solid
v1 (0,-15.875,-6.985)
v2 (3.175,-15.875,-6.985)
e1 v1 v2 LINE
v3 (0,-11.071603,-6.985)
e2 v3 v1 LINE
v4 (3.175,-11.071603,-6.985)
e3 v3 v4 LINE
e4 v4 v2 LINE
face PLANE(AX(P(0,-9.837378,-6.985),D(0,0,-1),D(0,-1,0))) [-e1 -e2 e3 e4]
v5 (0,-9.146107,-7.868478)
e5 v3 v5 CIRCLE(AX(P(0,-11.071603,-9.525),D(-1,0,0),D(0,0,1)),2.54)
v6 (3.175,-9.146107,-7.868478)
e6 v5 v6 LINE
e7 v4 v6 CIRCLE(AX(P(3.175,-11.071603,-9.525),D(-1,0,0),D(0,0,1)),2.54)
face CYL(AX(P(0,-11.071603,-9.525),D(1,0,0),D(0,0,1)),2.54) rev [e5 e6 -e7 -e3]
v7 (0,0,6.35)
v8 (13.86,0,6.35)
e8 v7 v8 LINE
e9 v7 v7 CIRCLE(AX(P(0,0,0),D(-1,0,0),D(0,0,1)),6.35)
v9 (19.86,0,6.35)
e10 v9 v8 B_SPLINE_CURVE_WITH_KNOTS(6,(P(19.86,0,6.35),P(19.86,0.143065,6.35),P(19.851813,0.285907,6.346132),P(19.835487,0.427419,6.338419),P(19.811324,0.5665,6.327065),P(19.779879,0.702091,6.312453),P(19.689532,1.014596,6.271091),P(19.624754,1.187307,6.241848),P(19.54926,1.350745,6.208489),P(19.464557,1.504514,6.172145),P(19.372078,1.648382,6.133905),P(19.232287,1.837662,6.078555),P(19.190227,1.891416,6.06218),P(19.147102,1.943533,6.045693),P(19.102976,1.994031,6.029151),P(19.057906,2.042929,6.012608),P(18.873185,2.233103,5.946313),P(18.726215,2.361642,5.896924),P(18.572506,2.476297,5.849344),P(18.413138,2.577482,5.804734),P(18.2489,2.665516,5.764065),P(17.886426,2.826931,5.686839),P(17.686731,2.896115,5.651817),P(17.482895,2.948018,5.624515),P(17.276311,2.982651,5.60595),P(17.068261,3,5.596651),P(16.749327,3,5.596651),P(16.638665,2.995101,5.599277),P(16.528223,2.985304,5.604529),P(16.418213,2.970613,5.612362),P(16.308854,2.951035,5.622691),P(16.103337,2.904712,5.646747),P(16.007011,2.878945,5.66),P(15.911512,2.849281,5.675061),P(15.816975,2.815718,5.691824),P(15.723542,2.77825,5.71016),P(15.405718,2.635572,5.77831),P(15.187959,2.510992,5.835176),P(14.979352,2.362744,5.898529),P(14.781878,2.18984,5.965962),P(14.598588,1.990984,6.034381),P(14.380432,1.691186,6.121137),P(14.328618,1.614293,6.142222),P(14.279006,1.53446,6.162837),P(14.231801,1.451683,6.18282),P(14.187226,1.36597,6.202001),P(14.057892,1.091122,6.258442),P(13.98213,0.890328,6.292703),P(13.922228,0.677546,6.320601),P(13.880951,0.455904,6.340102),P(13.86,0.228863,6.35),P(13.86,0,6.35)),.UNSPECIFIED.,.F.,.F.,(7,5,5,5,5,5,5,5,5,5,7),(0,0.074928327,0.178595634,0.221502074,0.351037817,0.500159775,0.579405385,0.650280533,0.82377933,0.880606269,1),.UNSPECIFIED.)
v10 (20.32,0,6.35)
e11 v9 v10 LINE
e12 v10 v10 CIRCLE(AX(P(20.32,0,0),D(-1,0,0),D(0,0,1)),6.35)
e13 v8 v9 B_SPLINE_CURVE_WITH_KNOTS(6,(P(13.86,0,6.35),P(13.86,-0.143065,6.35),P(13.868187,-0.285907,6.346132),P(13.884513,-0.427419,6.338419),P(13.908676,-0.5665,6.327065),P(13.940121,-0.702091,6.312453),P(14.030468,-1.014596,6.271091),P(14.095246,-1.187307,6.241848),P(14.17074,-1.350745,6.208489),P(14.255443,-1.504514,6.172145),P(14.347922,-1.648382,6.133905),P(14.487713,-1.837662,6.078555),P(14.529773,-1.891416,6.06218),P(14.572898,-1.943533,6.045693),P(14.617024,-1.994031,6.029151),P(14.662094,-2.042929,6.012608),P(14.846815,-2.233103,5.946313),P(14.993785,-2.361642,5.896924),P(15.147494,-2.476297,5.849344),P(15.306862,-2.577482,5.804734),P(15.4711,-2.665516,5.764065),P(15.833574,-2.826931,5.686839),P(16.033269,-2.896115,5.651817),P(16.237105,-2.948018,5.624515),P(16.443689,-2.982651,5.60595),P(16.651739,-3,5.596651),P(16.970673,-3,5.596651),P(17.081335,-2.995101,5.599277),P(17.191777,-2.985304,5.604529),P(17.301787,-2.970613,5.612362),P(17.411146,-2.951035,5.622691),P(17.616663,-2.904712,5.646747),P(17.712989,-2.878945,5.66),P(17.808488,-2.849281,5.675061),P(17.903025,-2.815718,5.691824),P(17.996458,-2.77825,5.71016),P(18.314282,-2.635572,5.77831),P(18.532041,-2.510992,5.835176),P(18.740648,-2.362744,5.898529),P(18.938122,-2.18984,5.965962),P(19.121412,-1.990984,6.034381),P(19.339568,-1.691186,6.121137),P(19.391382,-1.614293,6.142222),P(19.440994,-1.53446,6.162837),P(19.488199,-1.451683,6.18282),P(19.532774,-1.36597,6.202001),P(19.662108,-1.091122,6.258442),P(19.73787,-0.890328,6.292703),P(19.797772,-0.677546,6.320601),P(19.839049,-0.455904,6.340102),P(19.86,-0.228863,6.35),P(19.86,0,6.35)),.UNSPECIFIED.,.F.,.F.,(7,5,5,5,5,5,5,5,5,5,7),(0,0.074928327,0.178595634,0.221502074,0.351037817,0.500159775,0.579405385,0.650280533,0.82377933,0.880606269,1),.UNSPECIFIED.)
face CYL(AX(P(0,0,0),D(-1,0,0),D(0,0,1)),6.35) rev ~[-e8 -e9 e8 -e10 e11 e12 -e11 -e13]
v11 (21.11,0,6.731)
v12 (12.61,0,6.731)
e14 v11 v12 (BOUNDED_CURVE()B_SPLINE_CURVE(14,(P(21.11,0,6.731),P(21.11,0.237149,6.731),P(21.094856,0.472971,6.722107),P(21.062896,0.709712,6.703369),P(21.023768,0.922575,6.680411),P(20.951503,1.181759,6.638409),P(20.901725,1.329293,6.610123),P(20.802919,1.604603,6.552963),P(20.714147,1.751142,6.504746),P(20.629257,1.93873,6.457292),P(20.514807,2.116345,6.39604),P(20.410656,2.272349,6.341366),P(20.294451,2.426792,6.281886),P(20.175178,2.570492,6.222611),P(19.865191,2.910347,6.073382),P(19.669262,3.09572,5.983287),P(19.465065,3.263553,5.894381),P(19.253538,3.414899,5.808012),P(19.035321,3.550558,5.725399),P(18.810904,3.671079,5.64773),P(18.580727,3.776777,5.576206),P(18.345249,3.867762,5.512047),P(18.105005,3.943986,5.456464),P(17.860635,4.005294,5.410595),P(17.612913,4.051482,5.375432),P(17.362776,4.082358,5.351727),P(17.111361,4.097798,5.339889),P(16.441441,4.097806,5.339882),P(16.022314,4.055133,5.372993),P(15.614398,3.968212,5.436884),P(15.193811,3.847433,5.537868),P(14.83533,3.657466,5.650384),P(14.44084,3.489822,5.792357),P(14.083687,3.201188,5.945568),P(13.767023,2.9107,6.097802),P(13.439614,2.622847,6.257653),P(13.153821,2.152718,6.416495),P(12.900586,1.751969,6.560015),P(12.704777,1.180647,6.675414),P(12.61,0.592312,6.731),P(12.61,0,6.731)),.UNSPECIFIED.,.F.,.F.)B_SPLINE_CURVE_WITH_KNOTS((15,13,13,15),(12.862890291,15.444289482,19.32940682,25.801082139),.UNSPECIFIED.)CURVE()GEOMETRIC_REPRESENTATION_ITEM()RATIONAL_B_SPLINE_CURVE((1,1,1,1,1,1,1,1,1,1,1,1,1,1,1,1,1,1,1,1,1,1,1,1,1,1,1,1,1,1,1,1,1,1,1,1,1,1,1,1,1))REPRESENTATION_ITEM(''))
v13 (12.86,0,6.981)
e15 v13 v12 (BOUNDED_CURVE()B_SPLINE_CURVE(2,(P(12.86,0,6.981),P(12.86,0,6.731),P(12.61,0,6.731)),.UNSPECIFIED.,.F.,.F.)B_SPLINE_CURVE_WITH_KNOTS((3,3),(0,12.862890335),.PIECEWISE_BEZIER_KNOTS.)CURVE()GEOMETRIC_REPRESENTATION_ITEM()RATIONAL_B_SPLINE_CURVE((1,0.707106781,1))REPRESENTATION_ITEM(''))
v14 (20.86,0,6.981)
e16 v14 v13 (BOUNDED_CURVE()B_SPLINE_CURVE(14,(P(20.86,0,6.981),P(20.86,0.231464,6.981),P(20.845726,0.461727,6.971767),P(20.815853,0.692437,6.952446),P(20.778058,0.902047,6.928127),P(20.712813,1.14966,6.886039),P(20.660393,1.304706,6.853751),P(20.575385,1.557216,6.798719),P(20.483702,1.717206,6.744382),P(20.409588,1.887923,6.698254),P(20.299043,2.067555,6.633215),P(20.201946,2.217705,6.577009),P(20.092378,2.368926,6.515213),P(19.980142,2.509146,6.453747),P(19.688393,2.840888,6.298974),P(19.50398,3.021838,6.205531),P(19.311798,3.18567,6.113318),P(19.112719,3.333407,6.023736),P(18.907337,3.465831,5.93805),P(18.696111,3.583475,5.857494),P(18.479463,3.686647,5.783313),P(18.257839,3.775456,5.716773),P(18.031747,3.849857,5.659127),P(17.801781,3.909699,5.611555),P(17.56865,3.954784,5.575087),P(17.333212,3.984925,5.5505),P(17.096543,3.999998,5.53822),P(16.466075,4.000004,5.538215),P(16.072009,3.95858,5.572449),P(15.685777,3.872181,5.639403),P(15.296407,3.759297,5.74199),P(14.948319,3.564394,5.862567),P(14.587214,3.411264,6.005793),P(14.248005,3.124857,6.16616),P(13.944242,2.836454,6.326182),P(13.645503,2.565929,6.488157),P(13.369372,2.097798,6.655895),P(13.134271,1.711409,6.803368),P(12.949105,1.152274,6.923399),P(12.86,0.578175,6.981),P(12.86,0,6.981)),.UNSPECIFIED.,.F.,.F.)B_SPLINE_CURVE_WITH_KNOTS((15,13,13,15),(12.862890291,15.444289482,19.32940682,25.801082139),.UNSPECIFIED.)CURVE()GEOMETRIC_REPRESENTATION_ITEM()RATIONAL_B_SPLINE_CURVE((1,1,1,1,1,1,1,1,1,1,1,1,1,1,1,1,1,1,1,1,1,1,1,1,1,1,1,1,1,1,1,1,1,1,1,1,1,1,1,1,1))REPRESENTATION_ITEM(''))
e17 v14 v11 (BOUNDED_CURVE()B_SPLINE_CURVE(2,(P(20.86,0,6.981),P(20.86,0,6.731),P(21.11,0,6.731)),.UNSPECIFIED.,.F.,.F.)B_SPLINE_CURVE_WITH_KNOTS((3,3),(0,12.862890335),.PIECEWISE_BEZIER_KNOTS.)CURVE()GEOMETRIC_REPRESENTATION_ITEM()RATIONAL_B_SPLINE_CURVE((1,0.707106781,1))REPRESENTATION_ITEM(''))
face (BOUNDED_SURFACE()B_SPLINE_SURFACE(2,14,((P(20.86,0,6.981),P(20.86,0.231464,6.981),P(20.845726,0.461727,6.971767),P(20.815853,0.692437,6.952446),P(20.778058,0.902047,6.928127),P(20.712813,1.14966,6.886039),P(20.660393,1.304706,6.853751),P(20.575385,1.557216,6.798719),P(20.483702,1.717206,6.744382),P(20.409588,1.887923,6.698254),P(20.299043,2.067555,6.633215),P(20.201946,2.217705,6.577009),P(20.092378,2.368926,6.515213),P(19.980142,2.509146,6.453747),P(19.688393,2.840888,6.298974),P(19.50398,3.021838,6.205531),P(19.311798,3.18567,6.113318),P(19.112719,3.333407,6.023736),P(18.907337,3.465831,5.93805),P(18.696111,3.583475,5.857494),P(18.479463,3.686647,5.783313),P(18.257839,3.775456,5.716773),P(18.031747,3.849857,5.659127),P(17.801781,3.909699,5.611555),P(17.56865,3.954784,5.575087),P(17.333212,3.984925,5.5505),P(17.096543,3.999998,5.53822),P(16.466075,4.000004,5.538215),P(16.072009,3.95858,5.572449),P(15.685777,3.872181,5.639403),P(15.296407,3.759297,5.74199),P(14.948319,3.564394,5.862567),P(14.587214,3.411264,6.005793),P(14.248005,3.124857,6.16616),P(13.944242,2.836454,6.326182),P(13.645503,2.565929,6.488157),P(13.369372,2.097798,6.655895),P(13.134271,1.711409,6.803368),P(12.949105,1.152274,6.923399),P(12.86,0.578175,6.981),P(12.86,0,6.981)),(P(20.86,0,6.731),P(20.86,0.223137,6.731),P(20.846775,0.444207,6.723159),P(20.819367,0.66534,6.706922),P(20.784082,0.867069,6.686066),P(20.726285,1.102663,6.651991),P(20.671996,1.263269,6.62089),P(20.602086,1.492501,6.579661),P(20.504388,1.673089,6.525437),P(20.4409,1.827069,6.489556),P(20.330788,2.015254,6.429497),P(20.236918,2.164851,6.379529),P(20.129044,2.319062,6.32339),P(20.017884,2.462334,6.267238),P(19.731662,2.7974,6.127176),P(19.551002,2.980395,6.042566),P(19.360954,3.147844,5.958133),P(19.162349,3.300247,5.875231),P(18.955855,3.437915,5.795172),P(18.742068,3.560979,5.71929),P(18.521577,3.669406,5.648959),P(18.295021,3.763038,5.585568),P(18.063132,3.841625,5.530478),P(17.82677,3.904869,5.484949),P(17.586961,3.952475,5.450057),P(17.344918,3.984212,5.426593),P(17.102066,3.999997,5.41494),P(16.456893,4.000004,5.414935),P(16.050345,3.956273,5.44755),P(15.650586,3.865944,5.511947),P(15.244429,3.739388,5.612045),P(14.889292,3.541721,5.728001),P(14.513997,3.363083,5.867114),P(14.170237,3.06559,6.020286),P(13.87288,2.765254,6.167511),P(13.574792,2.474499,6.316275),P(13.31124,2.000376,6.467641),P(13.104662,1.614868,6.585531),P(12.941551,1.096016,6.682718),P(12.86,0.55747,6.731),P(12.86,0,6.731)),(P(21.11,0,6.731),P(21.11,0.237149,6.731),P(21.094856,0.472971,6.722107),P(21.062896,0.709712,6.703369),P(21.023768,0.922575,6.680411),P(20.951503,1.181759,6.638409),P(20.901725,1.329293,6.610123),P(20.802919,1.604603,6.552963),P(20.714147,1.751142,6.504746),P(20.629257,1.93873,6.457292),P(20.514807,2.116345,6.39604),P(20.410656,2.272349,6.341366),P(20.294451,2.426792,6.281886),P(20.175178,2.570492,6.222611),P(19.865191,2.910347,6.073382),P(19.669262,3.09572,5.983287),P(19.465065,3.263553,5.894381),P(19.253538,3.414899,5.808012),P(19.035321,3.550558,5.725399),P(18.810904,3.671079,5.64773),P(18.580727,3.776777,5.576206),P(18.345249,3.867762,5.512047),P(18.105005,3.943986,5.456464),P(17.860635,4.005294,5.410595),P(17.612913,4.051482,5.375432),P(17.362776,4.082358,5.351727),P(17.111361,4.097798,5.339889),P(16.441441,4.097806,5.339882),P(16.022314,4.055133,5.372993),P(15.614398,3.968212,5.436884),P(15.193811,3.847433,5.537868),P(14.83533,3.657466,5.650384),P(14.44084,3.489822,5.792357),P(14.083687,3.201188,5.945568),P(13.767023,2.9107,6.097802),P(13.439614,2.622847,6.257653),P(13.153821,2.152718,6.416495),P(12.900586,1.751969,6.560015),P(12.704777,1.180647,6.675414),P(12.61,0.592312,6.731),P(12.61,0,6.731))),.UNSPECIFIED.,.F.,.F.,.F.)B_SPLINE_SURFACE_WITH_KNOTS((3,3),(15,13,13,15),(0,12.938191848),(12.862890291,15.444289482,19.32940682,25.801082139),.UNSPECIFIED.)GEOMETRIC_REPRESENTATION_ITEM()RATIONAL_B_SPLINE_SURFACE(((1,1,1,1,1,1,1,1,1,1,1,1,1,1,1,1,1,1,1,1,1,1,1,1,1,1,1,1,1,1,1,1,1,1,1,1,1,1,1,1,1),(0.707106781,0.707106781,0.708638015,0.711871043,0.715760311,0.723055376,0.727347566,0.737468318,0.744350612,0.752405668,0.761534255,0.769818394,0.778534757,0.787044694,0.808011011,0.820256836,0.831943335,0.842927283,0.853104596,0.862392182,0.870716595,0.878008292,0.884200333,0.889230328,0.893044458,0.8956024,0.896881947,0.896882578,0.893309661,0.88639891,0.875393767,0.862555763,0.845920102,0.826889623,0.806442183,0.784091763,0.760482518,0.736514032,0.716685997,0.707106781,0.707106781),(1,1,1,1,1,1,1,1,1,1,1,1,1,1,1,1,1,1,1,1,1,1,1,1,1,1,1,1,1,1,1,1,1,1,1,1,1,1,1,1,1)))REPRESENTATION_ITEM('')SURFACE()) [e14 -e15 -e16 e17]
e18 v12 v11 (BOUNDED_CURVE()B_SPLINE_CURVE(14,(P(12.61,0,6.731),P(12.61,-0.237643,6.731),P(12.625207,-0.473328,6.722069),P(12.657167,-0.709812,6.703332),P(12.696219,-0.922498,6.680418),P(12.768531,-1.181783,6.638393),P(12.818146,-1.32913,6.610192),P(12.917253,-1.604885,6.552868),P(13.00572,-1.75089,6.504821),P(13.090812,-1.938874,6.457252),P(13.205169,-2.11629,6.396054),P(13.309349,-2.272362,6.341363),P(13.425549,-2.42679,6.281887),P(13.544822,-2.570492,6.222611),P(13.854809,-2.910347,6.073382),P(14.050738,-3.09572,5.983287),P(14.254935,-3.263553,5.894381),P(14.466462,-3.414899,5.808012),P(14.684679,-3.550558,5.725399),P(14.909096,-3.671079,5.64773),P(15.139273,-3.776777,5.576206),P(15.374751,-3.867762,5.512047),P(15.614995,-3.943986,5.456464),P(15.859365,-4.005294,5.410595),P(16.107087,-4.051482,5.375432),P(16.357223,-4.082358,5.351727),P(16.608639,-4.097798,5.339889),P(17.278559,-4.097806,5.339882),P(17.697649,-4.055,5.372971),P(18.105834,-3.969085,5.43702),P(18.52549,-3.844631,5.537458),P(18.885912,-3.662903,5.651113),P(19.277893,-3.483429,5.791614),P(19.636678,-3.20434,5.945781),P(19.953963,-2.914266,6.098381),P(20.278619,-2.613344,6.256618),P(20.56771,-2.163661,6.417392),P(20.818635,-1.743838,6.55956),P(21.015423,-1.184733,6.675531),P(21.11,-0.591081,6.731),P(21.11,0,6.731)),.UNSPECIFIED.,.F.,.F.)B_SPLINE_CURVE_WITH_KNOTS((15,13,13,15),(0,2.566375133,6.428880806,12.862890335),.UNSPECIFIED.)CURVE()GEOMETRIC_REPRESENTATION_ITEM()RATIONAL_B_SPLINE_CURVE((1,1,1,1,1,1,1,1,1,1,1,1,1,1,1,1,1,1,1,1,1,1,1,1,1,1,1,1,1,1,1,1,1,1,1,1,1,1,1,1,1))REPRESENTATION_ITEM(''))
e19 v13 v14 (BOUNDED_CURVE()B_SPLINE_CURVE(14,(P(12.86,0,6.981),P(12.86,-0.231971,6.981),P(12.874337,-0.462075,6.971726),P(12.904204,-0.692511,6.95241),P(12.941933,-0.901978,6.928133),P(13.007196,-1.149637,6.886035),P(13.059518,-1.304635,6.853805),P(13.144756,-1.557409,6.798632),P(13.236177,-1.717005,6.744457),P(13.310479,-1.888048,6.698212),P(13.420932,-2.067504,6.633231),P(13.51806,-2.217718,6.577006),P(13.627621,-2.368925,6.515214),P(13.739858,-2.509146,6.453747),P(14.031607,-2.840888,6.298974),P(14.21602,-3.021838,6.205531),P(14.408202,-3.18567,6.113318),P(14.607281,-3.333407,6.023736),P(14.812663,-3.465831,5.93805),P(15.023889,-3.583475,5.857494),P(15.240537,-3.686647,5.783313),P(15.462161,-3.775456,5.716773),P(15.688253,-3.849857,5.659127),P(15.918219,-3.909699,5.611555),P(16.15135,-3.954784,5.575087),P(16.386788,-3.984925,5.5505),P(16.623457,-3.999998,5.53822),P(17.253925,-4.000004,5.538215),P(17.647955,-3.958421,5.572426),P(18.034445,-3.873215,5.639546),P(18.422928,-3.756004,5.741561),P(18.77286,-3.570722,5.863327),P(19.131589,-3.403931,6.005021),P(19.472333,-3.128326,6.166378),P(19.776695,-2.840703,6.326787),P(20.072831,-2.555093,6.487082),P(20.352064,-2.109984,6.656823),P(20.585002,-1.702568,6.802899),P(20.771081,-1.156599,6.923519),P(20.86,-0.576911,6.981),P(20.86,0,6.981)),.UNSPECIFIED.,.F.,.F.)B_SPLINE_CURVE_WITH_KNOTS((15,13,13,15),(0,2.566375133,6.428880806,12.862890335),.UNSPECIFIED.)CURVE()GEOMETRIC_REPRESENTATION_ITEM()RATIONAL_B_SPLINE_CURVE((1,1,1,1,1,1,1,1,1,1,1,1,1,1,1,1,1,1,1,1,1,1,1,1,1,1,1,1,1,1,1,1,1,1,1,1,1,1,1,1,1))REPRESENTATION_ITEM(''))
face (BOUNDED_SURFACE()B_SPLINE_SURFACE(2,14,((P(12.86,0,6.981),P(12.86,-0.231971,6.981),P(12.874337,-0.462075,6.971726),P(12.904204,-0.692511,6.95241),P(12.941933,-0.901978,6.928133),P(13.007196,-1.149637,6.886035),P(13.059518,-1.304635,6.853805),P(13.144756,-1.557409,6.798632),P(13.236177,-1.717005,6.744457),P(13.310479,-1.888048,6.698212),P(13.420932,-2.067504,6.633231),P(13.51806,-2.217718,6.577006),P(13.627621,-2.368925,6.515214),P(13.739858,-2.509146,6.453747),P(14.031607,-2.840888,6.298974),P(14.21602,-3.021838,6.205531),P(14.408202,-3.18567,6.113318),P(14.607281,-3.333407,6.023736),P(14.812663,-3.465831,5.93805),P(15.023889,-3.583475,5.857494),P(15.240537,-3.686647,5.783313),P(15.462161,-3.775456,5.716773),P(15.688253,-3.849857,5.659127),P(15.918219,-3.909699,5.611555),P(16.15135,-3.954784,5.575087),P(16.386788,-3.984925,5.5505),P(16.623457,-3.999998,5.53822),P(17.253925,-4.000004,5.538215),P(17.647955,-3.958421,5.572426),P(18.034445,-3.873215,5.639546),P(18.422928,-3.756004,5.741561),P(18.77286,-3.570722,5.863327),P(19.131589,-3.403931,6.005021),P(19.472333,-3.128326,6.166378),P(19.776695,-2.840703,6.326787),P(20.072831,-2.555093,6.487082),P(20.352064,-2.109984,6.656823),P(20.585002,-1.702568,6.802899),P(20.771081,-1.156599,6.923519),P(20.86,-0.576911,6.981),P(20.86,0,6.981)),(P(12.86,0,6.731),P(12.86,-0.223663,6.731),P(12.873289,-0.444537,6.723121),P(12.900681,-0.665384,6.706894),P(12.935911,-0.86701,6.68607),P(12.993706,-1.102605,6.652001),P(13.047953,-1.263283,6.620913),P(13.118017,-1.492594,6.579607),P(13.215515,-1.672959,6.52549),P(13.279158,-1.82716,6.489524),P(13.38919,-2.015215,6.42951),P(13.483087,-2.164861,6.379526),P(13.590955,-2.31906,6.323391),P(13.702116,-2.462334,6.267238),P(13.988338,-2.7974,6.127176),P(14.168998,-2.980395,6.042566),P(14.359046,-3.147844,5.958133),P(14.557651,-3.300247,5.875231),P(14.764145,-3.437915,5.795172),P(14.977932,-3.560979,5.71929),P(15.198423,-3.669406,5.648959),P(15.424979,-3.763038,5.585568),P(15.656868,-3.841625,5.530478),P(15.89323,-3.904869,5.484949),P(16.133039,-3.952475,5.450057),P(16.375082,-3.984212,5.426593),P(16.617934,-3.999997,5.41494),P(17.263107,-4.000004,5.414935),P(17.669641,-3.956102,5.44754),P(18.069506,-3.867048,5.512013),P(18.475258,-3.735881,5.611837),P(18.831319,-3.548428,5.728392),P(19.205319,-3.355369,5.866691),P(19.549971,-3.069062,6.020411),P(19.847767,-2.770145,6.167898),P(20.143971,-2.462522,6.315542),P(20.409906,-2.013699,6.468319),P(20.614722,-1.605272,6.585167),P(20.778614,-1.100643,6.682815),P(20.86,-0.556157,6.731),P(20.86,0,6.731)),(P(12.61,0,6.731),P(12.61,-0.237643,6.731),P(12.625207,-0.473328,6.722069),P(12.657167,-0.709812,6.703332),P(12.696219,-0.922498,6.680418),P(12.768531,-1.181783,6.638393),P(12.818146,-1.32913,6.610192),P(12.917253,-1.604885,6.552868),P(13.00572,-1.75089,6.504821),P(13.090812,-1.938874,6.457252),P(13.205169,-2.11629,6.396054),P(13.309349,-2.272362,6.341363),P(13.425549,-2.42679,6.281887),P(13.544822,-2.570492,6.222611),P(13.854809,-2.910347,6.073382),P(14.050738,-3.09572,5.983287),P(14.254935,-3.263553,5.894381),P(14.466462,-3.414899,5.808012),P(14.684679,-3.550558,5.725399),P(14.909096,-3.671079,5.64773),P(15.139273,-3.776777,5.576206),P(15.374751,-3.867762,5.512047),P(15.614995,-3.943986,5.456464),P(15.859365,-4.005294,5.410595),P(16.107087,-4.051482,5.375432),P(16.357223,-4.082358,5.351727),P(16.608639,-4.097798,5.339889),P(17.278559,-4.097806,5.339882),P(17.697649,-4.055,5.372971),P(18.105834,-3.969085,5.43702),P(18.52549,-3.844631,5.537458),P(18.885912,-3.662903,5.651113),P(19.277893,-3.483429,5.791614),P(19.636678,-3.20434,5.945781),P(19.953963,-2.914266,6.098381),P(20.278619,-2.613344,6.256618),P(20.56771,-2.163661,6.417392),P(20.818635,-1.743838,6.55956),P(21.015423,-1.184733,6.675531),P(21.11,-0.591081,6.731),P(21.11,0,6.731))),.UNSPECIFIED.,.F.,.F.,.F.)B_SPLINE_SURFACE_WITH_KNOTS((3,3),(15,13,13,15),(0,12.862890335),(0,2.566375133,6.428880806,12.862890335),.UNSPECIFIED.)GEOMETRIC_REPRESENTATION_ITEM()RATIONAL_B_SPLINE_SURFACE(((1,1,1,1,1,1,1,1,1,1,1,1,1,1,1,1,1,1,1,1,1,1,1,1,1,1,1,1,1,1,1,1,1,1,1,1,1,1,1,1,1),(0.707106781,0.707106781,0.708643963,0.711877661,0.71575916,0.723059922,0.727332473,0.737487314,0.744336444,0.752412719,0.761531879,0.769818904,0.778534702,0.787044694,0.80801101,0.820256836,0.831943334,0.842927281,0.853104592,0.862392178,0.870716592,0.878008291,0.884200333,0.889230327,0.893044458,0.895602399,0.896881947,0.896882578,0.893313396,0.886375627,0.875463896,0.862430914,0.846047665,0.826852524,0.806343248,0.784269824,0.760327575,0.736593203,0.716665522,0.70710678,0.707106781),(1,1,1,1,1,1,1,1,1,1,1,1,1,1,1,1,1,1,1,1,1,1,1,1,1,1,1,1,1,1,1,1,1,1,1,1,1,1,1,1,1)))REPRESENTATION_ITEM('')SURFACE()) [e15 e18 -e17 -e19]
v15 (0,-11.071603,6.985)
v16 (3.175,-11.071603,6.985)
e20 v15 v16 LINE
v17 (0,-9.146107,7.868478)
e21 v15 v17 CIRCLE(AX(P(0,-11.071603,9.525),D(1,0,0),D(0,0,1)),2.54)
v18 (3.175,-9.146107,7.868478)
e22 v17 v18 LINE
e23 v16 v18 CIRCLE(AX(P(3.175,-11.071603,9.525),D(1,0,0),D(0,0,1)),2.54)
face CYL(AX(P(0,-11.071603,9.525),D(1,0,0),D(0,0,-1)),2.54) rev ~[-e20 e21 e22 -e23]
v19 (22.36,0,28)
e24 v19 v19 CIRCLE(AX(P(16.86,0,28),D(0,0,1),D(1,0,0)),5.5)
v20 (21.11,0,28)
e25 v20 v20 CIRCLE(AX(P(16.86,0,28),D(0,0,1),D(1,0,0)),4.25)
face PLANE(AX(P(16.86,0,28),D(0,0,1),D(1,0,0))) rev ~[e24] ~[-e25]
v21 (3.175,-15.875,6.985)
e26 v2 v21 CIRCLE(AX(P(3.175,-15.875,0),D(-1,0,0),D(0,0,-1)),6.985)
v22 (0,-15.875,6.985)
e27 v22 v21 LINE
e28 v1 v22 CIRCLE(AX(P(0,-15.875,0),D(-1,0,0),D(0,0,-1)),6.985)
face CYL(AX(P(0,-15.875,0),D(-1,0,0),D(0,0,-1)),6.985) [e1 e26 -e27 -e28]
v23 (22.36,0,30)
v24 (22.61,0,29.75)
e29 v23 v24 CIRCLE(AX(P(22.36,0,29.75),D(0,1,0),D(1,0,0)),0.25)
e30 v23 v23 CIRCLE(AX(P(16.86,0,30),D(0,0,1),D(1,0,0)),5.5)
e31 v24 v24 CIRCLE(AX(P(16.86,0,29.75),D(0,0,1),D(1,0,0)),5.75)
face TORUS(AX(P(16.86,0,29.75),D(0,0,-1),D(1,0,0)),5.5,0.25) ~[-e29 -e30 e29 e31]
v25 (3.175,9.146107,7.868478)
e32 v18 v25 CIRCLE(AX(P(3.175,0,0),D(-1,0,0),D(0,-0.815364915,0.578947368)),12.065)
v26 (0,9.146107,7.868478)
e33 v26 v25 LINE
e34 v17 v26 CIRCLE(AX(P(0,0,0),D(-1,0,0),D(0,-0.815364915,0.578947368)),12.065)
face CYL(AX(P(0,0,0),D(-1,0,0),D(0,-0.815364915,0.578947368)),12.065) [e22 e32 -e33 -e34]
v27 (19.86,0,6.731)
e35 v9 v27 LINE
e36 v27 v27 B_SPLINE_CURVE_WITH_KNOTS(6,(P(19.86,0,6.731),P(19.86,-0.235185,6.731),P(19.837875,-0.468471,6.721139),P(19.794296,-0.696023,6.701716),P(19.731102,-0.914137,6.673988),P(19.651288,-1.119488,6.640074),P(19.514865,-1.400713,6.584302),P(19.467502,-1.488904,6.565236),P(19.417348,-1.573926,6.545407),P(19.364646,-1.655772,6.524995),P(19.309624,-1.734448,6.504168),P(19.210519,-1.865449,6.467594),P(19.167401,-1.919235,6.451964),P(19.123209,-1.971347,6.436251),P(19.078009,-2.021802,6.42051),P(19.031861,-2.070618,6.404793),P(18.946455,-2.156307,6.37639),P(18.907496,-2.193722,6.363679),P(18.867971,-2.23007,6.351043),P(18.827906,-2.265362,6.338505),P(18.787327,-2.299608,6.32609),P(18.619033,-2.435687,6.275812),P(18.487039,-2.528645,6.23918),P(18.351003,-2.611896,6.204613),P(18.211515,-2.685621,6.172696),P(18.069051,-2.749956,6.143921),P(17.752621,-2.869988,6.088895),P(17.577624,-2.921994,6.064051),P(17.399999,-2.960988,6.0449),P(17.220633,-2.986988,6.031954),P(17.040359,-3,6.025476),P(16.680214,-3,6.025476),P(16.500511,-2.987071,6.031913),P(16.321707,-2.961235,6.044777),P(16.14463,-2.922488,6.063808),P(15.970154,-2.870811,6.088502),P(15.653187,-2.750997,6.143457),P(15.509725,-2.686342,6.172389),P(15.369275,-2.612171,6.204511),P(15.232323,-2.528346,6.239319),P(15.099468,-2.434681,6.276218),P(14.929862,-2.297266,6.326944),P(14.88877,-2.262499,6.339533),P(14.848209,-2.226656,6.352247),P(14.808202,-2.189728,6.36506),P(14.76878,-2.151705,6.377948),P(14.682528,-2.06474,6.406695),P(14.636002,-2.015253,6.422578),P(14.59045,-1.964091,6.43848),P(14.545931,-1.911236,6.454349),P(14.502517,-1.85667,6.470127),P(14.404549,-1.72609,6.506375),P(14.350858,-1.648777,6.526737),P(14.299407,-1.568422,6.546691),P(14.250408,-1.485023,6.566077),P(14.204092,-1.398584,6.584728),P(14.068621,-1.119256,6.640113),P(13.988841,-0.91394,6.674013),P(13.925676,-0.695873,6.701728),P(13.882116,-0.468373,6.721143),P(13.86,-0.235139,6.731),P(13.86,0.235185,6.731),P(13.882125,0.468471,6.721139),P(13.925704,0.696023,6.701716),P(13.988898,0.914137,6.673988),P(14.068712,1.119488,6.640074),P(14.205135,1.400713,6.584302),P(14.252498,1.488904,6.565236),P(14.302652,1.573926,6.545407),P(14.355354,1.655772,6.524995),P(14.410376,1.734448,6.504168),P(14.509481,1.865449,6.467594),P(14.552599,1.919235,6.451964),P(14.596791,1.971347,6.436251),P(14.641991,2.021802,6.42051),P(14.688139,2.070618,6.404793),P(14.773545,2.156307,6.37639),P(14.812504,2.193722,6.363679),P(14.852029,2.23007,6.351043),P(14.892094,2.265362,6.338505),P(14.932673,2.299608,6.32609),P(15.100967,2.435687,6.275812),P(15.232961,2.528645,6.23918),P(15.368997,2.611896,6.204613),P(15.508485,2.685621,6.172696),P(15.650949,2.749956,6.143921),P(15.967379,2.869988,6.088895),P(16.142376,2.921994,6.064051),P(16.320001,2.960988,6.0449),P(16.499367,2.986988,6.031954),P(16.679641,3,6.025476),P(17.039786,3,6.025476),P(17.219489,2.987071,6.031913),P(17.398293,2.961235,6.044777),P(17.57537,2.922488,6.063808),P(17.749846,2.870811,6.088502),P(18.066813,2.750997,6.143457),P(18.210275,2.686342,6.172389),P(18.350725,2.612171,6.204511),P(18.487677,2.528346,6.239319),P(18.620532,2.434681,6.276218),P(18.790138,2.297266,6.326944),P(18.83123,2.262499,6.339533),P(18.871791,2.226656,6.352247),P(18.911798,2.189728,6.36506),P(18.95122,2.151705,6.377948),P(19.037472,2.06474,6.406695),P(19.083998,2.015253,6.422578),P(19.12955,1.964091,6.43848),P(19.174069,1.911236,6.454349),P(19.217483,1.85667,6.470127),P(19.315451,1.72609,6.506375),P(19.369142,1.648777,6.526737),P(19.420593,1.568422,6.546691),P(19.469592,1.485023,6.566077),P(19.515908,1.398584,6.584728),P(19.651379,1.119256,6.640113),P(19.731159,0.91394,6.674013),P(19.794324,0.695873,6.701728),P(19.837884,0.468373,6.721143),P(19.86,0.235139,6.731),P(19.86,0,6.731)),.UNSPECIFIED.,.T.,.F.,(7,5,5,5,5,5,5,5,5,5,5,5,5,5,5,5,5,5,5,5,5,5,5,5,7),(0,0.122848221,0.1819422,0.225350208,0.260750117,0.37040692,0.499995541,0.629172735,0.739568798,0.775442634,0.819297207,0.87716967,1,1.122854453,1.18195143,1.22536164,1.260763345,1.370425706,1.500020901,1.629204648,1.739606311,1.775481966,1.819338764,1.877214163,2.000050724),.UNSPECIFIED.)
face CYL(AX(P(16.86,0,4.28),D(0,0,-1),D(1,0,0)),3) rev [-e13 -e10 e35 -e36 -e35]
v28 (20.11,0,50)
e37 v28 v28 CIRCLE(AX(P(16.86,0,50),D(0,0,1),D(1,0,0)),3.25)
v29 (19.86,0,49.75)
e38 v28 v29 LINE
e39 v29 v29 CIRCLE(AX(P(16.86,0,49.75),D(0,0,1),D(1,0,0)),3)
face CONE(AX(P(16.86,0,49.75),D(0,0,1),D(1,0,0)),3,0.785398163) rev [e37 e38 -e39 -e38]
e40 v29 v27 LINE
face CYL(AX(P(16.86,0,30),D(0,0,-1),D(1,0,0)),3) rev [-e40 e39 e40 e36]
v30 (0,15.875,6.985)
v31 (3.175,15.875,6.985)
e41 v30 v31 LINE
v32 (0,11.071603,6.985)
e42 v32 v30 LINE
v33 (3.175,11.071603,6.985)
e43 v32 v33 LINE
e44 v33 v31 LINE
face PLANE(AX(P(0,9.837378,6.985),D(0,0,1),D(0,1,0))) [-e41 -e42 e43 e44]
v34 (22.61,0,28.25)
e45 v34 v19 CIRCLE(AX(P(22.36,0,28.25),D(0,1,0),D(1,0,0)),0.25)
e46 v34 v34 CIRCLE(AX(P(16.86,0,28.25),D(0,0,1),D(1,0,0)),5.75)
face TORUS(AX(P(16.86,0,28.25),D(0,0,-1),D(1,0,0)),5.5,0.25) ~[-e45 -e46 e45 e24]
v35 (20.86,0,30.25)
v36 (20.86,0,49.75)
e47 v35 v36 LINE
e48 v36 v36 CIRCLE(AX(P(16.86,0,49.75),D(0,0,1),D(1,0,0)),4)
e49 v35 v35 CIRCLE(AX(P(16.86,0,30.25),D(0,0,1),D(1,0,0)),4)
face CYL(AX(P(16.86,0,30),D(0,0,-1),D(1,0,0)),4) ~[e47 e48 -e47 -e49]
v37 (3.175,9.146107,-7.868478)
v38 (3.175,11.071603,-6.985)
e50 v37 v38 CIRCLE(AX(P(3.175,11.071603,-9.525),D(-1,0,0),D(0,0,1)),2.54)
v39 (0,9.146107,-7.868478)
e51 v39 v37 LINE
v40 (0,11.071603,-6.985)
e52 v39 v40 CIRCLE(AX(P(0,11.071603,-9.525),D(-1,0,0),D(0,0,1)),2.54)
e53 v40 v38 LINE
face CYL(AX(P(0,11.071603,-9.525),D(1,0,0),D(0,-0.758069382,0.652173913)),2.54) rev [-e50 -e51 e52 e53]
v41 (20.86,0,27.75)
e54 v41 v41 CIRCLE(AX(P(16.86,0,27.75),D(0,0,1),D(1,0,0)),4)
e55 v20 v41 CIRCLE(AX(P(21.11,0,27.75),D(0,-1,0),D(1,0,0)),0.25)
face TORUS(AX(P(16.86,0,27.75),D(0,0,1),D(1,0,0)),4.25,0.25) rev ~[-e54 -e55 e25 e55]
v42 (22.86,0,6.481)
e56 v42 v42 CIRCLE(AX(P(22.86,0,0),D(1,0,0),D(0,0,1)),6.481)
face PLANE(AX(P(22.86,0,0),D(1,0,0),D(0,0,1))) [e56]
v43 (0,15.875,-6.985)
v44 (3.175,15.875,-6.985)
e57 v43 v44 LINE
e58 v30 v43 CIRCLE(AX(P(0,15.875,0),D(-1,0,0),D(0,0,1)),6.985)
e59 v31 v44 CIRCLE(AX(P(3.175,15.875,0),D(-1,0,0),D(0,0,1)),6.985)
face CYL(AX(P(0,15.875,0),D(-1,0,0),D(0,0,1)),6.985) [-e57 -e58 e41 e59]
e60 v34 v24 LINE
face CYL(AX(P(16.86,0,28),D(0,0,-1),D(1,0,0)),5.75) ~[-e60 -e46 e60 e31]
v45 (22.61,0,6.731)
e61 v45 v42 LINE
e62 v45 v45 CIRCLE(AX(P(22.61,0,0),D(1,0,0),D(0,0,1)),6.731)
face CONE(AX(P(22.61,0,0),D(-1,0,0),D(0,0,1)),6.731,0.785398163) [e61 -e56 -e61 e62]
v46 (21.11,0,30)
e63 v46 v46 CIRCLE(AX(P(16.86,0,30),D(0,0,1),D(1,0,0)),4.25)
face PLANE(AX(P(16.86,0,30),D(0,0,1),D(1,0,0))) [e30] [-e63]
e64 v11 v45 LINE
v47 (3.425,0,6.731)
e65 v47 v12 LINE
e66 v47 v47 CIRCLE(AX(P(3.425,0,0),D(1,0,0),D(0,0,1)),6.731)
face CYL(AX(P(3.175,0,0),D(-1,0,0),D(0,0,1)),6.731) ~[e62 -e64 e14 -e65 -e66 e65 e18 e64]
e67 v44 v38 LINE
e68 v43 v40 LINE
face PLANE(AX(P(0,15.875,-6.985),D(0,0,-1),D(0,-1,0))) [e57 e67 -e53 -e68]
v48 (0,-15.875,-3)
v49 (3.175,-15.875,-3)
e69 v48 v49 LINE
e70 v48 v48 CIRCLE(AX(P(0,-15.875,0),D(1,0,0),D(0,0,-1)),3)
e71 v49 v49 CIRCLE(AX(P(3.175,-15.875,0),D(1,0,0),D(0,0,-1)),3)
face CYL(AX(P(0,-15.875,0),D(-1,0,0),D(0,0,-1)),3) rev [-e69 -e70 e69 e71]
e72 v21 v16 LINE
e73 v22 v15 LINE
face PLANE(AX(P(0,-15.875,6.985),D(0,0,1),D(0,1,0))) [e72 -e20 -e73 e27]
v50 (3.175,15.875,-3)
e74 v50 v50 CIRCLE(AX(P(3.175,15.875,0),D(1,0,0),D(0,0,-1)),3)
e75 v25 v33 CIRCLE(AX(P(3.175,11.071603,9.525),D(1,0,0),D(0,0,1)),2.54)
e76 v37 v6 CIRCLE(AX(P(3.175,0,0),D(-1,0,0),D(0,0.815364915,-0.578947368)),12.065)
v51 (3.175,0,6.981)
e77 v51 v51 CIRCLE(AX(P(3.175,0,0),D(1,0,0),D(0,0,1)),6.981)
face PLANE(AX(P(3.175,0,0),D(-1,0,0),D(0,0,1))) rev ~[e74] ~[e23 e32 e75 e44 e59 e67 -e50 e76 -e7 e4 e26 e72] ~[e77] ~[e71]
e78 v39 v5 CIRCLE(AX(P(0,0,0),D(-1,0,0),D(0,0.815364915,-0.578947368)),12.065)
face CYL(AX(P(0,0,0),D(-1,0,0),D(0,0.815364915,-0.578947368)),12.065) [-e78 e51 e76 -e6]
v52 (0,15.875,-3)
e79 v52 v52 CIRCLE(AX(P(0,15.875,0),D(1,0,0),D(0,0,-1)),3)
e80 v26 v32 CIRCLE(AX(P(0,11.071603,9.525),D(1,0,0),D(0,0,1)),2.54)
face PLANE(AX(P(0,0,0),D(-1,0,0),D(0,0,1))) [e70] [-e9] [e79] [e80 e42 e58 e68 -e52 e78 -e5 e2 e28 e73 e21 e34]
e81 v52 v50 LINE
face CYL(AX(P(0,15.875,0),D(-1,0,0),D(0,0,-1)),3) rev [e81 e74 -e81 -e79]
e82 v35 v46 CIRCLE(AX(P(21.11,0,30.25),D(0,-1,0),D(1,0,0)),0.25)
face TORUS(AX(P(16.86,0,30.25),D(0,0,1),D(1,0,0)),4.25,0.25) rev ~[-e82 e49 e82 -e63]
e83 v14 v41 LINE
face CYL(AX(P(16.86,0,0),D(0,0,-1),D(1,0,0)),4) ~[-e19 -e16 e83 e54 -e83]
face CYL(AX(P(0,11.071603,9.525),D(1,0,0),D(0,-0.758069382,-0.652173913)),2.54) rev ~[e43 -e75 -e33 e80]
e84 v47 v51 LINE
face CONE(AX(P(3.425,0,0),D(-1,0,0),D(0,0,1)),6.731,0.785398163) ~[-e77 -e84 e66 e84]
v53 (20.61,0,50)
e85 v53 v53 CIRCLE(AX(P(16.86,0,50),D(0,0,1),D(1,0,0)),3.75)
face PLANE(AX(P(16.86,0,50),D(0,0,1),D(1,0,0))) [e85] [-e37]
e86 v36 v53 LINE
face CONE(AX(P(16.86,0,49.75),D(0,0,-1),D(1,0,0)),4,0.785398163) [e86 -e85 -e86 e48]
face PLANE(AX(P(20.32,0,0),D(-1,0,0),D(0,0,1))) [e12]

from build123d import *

# Parameters (mm, degrees)
SKETCH1_R          = 3
EXTRUDE1_DEPTH     = 3.175
SKETCH2_R          = 6.731
EXTRUDE2_DEPTH     = 19.685
SKETCH4_R          = 4
SKETCH4_R_2        = 3
EXTRUDE3_DEPTH     = 28
SKETCH5_R          = 5.75
SKETCH5_R_2        = 3
EXTRUDE4_DEPTH     = 2
SKETCH6_R          = 4
SKETCH6_R_2        = 3
EXTRUDE5_DEPTH     = 20
CHAMFER1_SIZE      = 0.25
FILLET1_R          = 0.25
FILLET2_R          = 2.54
SKETCH7_R          = 6.35
CUT_EXTRUDE1_DEPTH = 20.32
CUT_EXTRUDE2_START = -45.72
SKETCH8_R          = 3
CUT_EXTRUDE2_DEPTH = 45.72


with BuildPart() as part:
    # Sketch1 → Extrude1 (new body)
    with BuildSketch(Plane(origin=(0, 0, 0), x_dir=(0, 0, -1), z_dir=(1, 0, 0))):
        with BuildLine():
            Line((-6.985, -15.875), (-6.985, -9.837377699))
            ThreePointArc((-6.985, -9.837377699), (-12.065, 0), (-6.985, 9.837377699))
            Line((-6.985, 9.837377699), (-6.985, 15.875))
            ThreePointArc((-6.985, 15.875), (0, 22.86), (6.985, 15.875))
            Line((6.985, 15.875), (6.985, 9.837377699))
            ThreePointArc((6.985, 9.837377699), (12.065, 0), (6.985, -9.837377699))
            Line((6.985, -9.837377699), (6.985, -15.875))
            ThreePointArc((6.985, -15.875), (0, -22.86), (-6.985, -15.875))
        make_face()
        with Locations((0, 15.875)):
            Circle(SKETCH1_R, mode=Mode.SUBTRACT)
        with Locations((0, -15.875)):
            Circle(SKETCH1_R, mode=Mode.SUBTRACT)
    extrude(amount=EXTRUDE1_DEPTH)

    # Sketch2 → Extrude2 (add)
    with BuildSketch(Plane(origin=(3.175, 0, 0), x_dir=(0, 0, -1), z_dir=(1, 0, 0))):
        with Locations(Location((0, 0, 0), (0, 0, 180))):
            Circle(SKETCH2_R)
    extrude(amount=EXTRUDE2_DEPTH)

    # Sketch4 → Extrude3 (add)
    with BuildSketch(Plane.XY):
        with Locations((16.86, 0)):
            Circle(SKETCH4_R)
        with Locations((16.86, 0)):
            Circle(SKETCH4_R_2, mode=Mode.SUBTRACT)
    extrude(amount=EXTRUDE3_DEPTH)

    # Sketch5 → Extrude4 (add)
    with BuildSketch(Plane.XY.offset(28)):
        with Locations((16.86, 0)):
            Circle(SKETCH5_R)
        with Locations((16.86, 0)):
            Circle(SKETCH5_R_2, mode=Mode.SUBTRACT)
    extrude(amount=EXTRUDE4_DEPTH)

    # Sketch6 → Extrude5 (add)
    with BuildSketch(Plane.XY.offset(30)):
        with Locations((16.86, 0)):
            Circle(SKETCH6_R)
        with Locations((16.86, 0)):
            Circle(SKETCH6_R_2, mode=Mode.SUBTRACT)
    extrude(amount=EXTRUDE5_DEPTH)

    # Chamfer1
    chamfer1_edges = [part.edges().sort_by_distance(p)[0] for p in [
        (3.175, 0, -6.731),
        (22.86, 0, -6.731),
        (12.86, 0, 50),
        (13.86, 0, 50),
    ]]
    chamfer(chamfer1_edges, length=CHAMFER1_SIZE)

    # Fillet1
    fillet1_edges = [part.edges().sort_by_distance(p)[0] for p in [
        (16.86, -4, 5.413534982),
        (12.86, 0, 28),
        (11.11, 0, 30),
        (11.11, 0, 28),
        (12.86, 0, 30),
    ]]
    fillet(fillet1_edges, radius=FILLET1_R)

    # Fillet2
    fillet2_edges = [part.edges().sort_by_distance(p)[0] for p in [
        (1.5875, 9.837377699, -6.985),
        (1.5875, -9.837377699, -6.985),
        (1.5875, -9.837377699, 6.985),
        (1.5875, 9.837377699, 6.985),
    ]]
    fillet(fillet2_edges, radius=FILLET2_R)

    # Sketch7 → Cut-Extrude1 (cut)
    with BuildSketch(Plane.ZY):
        Circle(SKETCH7_R)
    extrude(amount=-CUT_EXTRUDE1_DEPTH, mode=Mode.SUBTRACT)

    # Sketch8 → Cut-Extrude2 (cut)
    with BuildSketch(Plane.XY.offset(50).offset(CUT_EXTRUDE2_START)):
        with Locations((16.86, 0)):
            Circle(SKETCH8_R)
    extrude(amount=CUT_EXTRUDE2_DEPTH, mode=Mode.SUBTRACT)


solid = part.part
